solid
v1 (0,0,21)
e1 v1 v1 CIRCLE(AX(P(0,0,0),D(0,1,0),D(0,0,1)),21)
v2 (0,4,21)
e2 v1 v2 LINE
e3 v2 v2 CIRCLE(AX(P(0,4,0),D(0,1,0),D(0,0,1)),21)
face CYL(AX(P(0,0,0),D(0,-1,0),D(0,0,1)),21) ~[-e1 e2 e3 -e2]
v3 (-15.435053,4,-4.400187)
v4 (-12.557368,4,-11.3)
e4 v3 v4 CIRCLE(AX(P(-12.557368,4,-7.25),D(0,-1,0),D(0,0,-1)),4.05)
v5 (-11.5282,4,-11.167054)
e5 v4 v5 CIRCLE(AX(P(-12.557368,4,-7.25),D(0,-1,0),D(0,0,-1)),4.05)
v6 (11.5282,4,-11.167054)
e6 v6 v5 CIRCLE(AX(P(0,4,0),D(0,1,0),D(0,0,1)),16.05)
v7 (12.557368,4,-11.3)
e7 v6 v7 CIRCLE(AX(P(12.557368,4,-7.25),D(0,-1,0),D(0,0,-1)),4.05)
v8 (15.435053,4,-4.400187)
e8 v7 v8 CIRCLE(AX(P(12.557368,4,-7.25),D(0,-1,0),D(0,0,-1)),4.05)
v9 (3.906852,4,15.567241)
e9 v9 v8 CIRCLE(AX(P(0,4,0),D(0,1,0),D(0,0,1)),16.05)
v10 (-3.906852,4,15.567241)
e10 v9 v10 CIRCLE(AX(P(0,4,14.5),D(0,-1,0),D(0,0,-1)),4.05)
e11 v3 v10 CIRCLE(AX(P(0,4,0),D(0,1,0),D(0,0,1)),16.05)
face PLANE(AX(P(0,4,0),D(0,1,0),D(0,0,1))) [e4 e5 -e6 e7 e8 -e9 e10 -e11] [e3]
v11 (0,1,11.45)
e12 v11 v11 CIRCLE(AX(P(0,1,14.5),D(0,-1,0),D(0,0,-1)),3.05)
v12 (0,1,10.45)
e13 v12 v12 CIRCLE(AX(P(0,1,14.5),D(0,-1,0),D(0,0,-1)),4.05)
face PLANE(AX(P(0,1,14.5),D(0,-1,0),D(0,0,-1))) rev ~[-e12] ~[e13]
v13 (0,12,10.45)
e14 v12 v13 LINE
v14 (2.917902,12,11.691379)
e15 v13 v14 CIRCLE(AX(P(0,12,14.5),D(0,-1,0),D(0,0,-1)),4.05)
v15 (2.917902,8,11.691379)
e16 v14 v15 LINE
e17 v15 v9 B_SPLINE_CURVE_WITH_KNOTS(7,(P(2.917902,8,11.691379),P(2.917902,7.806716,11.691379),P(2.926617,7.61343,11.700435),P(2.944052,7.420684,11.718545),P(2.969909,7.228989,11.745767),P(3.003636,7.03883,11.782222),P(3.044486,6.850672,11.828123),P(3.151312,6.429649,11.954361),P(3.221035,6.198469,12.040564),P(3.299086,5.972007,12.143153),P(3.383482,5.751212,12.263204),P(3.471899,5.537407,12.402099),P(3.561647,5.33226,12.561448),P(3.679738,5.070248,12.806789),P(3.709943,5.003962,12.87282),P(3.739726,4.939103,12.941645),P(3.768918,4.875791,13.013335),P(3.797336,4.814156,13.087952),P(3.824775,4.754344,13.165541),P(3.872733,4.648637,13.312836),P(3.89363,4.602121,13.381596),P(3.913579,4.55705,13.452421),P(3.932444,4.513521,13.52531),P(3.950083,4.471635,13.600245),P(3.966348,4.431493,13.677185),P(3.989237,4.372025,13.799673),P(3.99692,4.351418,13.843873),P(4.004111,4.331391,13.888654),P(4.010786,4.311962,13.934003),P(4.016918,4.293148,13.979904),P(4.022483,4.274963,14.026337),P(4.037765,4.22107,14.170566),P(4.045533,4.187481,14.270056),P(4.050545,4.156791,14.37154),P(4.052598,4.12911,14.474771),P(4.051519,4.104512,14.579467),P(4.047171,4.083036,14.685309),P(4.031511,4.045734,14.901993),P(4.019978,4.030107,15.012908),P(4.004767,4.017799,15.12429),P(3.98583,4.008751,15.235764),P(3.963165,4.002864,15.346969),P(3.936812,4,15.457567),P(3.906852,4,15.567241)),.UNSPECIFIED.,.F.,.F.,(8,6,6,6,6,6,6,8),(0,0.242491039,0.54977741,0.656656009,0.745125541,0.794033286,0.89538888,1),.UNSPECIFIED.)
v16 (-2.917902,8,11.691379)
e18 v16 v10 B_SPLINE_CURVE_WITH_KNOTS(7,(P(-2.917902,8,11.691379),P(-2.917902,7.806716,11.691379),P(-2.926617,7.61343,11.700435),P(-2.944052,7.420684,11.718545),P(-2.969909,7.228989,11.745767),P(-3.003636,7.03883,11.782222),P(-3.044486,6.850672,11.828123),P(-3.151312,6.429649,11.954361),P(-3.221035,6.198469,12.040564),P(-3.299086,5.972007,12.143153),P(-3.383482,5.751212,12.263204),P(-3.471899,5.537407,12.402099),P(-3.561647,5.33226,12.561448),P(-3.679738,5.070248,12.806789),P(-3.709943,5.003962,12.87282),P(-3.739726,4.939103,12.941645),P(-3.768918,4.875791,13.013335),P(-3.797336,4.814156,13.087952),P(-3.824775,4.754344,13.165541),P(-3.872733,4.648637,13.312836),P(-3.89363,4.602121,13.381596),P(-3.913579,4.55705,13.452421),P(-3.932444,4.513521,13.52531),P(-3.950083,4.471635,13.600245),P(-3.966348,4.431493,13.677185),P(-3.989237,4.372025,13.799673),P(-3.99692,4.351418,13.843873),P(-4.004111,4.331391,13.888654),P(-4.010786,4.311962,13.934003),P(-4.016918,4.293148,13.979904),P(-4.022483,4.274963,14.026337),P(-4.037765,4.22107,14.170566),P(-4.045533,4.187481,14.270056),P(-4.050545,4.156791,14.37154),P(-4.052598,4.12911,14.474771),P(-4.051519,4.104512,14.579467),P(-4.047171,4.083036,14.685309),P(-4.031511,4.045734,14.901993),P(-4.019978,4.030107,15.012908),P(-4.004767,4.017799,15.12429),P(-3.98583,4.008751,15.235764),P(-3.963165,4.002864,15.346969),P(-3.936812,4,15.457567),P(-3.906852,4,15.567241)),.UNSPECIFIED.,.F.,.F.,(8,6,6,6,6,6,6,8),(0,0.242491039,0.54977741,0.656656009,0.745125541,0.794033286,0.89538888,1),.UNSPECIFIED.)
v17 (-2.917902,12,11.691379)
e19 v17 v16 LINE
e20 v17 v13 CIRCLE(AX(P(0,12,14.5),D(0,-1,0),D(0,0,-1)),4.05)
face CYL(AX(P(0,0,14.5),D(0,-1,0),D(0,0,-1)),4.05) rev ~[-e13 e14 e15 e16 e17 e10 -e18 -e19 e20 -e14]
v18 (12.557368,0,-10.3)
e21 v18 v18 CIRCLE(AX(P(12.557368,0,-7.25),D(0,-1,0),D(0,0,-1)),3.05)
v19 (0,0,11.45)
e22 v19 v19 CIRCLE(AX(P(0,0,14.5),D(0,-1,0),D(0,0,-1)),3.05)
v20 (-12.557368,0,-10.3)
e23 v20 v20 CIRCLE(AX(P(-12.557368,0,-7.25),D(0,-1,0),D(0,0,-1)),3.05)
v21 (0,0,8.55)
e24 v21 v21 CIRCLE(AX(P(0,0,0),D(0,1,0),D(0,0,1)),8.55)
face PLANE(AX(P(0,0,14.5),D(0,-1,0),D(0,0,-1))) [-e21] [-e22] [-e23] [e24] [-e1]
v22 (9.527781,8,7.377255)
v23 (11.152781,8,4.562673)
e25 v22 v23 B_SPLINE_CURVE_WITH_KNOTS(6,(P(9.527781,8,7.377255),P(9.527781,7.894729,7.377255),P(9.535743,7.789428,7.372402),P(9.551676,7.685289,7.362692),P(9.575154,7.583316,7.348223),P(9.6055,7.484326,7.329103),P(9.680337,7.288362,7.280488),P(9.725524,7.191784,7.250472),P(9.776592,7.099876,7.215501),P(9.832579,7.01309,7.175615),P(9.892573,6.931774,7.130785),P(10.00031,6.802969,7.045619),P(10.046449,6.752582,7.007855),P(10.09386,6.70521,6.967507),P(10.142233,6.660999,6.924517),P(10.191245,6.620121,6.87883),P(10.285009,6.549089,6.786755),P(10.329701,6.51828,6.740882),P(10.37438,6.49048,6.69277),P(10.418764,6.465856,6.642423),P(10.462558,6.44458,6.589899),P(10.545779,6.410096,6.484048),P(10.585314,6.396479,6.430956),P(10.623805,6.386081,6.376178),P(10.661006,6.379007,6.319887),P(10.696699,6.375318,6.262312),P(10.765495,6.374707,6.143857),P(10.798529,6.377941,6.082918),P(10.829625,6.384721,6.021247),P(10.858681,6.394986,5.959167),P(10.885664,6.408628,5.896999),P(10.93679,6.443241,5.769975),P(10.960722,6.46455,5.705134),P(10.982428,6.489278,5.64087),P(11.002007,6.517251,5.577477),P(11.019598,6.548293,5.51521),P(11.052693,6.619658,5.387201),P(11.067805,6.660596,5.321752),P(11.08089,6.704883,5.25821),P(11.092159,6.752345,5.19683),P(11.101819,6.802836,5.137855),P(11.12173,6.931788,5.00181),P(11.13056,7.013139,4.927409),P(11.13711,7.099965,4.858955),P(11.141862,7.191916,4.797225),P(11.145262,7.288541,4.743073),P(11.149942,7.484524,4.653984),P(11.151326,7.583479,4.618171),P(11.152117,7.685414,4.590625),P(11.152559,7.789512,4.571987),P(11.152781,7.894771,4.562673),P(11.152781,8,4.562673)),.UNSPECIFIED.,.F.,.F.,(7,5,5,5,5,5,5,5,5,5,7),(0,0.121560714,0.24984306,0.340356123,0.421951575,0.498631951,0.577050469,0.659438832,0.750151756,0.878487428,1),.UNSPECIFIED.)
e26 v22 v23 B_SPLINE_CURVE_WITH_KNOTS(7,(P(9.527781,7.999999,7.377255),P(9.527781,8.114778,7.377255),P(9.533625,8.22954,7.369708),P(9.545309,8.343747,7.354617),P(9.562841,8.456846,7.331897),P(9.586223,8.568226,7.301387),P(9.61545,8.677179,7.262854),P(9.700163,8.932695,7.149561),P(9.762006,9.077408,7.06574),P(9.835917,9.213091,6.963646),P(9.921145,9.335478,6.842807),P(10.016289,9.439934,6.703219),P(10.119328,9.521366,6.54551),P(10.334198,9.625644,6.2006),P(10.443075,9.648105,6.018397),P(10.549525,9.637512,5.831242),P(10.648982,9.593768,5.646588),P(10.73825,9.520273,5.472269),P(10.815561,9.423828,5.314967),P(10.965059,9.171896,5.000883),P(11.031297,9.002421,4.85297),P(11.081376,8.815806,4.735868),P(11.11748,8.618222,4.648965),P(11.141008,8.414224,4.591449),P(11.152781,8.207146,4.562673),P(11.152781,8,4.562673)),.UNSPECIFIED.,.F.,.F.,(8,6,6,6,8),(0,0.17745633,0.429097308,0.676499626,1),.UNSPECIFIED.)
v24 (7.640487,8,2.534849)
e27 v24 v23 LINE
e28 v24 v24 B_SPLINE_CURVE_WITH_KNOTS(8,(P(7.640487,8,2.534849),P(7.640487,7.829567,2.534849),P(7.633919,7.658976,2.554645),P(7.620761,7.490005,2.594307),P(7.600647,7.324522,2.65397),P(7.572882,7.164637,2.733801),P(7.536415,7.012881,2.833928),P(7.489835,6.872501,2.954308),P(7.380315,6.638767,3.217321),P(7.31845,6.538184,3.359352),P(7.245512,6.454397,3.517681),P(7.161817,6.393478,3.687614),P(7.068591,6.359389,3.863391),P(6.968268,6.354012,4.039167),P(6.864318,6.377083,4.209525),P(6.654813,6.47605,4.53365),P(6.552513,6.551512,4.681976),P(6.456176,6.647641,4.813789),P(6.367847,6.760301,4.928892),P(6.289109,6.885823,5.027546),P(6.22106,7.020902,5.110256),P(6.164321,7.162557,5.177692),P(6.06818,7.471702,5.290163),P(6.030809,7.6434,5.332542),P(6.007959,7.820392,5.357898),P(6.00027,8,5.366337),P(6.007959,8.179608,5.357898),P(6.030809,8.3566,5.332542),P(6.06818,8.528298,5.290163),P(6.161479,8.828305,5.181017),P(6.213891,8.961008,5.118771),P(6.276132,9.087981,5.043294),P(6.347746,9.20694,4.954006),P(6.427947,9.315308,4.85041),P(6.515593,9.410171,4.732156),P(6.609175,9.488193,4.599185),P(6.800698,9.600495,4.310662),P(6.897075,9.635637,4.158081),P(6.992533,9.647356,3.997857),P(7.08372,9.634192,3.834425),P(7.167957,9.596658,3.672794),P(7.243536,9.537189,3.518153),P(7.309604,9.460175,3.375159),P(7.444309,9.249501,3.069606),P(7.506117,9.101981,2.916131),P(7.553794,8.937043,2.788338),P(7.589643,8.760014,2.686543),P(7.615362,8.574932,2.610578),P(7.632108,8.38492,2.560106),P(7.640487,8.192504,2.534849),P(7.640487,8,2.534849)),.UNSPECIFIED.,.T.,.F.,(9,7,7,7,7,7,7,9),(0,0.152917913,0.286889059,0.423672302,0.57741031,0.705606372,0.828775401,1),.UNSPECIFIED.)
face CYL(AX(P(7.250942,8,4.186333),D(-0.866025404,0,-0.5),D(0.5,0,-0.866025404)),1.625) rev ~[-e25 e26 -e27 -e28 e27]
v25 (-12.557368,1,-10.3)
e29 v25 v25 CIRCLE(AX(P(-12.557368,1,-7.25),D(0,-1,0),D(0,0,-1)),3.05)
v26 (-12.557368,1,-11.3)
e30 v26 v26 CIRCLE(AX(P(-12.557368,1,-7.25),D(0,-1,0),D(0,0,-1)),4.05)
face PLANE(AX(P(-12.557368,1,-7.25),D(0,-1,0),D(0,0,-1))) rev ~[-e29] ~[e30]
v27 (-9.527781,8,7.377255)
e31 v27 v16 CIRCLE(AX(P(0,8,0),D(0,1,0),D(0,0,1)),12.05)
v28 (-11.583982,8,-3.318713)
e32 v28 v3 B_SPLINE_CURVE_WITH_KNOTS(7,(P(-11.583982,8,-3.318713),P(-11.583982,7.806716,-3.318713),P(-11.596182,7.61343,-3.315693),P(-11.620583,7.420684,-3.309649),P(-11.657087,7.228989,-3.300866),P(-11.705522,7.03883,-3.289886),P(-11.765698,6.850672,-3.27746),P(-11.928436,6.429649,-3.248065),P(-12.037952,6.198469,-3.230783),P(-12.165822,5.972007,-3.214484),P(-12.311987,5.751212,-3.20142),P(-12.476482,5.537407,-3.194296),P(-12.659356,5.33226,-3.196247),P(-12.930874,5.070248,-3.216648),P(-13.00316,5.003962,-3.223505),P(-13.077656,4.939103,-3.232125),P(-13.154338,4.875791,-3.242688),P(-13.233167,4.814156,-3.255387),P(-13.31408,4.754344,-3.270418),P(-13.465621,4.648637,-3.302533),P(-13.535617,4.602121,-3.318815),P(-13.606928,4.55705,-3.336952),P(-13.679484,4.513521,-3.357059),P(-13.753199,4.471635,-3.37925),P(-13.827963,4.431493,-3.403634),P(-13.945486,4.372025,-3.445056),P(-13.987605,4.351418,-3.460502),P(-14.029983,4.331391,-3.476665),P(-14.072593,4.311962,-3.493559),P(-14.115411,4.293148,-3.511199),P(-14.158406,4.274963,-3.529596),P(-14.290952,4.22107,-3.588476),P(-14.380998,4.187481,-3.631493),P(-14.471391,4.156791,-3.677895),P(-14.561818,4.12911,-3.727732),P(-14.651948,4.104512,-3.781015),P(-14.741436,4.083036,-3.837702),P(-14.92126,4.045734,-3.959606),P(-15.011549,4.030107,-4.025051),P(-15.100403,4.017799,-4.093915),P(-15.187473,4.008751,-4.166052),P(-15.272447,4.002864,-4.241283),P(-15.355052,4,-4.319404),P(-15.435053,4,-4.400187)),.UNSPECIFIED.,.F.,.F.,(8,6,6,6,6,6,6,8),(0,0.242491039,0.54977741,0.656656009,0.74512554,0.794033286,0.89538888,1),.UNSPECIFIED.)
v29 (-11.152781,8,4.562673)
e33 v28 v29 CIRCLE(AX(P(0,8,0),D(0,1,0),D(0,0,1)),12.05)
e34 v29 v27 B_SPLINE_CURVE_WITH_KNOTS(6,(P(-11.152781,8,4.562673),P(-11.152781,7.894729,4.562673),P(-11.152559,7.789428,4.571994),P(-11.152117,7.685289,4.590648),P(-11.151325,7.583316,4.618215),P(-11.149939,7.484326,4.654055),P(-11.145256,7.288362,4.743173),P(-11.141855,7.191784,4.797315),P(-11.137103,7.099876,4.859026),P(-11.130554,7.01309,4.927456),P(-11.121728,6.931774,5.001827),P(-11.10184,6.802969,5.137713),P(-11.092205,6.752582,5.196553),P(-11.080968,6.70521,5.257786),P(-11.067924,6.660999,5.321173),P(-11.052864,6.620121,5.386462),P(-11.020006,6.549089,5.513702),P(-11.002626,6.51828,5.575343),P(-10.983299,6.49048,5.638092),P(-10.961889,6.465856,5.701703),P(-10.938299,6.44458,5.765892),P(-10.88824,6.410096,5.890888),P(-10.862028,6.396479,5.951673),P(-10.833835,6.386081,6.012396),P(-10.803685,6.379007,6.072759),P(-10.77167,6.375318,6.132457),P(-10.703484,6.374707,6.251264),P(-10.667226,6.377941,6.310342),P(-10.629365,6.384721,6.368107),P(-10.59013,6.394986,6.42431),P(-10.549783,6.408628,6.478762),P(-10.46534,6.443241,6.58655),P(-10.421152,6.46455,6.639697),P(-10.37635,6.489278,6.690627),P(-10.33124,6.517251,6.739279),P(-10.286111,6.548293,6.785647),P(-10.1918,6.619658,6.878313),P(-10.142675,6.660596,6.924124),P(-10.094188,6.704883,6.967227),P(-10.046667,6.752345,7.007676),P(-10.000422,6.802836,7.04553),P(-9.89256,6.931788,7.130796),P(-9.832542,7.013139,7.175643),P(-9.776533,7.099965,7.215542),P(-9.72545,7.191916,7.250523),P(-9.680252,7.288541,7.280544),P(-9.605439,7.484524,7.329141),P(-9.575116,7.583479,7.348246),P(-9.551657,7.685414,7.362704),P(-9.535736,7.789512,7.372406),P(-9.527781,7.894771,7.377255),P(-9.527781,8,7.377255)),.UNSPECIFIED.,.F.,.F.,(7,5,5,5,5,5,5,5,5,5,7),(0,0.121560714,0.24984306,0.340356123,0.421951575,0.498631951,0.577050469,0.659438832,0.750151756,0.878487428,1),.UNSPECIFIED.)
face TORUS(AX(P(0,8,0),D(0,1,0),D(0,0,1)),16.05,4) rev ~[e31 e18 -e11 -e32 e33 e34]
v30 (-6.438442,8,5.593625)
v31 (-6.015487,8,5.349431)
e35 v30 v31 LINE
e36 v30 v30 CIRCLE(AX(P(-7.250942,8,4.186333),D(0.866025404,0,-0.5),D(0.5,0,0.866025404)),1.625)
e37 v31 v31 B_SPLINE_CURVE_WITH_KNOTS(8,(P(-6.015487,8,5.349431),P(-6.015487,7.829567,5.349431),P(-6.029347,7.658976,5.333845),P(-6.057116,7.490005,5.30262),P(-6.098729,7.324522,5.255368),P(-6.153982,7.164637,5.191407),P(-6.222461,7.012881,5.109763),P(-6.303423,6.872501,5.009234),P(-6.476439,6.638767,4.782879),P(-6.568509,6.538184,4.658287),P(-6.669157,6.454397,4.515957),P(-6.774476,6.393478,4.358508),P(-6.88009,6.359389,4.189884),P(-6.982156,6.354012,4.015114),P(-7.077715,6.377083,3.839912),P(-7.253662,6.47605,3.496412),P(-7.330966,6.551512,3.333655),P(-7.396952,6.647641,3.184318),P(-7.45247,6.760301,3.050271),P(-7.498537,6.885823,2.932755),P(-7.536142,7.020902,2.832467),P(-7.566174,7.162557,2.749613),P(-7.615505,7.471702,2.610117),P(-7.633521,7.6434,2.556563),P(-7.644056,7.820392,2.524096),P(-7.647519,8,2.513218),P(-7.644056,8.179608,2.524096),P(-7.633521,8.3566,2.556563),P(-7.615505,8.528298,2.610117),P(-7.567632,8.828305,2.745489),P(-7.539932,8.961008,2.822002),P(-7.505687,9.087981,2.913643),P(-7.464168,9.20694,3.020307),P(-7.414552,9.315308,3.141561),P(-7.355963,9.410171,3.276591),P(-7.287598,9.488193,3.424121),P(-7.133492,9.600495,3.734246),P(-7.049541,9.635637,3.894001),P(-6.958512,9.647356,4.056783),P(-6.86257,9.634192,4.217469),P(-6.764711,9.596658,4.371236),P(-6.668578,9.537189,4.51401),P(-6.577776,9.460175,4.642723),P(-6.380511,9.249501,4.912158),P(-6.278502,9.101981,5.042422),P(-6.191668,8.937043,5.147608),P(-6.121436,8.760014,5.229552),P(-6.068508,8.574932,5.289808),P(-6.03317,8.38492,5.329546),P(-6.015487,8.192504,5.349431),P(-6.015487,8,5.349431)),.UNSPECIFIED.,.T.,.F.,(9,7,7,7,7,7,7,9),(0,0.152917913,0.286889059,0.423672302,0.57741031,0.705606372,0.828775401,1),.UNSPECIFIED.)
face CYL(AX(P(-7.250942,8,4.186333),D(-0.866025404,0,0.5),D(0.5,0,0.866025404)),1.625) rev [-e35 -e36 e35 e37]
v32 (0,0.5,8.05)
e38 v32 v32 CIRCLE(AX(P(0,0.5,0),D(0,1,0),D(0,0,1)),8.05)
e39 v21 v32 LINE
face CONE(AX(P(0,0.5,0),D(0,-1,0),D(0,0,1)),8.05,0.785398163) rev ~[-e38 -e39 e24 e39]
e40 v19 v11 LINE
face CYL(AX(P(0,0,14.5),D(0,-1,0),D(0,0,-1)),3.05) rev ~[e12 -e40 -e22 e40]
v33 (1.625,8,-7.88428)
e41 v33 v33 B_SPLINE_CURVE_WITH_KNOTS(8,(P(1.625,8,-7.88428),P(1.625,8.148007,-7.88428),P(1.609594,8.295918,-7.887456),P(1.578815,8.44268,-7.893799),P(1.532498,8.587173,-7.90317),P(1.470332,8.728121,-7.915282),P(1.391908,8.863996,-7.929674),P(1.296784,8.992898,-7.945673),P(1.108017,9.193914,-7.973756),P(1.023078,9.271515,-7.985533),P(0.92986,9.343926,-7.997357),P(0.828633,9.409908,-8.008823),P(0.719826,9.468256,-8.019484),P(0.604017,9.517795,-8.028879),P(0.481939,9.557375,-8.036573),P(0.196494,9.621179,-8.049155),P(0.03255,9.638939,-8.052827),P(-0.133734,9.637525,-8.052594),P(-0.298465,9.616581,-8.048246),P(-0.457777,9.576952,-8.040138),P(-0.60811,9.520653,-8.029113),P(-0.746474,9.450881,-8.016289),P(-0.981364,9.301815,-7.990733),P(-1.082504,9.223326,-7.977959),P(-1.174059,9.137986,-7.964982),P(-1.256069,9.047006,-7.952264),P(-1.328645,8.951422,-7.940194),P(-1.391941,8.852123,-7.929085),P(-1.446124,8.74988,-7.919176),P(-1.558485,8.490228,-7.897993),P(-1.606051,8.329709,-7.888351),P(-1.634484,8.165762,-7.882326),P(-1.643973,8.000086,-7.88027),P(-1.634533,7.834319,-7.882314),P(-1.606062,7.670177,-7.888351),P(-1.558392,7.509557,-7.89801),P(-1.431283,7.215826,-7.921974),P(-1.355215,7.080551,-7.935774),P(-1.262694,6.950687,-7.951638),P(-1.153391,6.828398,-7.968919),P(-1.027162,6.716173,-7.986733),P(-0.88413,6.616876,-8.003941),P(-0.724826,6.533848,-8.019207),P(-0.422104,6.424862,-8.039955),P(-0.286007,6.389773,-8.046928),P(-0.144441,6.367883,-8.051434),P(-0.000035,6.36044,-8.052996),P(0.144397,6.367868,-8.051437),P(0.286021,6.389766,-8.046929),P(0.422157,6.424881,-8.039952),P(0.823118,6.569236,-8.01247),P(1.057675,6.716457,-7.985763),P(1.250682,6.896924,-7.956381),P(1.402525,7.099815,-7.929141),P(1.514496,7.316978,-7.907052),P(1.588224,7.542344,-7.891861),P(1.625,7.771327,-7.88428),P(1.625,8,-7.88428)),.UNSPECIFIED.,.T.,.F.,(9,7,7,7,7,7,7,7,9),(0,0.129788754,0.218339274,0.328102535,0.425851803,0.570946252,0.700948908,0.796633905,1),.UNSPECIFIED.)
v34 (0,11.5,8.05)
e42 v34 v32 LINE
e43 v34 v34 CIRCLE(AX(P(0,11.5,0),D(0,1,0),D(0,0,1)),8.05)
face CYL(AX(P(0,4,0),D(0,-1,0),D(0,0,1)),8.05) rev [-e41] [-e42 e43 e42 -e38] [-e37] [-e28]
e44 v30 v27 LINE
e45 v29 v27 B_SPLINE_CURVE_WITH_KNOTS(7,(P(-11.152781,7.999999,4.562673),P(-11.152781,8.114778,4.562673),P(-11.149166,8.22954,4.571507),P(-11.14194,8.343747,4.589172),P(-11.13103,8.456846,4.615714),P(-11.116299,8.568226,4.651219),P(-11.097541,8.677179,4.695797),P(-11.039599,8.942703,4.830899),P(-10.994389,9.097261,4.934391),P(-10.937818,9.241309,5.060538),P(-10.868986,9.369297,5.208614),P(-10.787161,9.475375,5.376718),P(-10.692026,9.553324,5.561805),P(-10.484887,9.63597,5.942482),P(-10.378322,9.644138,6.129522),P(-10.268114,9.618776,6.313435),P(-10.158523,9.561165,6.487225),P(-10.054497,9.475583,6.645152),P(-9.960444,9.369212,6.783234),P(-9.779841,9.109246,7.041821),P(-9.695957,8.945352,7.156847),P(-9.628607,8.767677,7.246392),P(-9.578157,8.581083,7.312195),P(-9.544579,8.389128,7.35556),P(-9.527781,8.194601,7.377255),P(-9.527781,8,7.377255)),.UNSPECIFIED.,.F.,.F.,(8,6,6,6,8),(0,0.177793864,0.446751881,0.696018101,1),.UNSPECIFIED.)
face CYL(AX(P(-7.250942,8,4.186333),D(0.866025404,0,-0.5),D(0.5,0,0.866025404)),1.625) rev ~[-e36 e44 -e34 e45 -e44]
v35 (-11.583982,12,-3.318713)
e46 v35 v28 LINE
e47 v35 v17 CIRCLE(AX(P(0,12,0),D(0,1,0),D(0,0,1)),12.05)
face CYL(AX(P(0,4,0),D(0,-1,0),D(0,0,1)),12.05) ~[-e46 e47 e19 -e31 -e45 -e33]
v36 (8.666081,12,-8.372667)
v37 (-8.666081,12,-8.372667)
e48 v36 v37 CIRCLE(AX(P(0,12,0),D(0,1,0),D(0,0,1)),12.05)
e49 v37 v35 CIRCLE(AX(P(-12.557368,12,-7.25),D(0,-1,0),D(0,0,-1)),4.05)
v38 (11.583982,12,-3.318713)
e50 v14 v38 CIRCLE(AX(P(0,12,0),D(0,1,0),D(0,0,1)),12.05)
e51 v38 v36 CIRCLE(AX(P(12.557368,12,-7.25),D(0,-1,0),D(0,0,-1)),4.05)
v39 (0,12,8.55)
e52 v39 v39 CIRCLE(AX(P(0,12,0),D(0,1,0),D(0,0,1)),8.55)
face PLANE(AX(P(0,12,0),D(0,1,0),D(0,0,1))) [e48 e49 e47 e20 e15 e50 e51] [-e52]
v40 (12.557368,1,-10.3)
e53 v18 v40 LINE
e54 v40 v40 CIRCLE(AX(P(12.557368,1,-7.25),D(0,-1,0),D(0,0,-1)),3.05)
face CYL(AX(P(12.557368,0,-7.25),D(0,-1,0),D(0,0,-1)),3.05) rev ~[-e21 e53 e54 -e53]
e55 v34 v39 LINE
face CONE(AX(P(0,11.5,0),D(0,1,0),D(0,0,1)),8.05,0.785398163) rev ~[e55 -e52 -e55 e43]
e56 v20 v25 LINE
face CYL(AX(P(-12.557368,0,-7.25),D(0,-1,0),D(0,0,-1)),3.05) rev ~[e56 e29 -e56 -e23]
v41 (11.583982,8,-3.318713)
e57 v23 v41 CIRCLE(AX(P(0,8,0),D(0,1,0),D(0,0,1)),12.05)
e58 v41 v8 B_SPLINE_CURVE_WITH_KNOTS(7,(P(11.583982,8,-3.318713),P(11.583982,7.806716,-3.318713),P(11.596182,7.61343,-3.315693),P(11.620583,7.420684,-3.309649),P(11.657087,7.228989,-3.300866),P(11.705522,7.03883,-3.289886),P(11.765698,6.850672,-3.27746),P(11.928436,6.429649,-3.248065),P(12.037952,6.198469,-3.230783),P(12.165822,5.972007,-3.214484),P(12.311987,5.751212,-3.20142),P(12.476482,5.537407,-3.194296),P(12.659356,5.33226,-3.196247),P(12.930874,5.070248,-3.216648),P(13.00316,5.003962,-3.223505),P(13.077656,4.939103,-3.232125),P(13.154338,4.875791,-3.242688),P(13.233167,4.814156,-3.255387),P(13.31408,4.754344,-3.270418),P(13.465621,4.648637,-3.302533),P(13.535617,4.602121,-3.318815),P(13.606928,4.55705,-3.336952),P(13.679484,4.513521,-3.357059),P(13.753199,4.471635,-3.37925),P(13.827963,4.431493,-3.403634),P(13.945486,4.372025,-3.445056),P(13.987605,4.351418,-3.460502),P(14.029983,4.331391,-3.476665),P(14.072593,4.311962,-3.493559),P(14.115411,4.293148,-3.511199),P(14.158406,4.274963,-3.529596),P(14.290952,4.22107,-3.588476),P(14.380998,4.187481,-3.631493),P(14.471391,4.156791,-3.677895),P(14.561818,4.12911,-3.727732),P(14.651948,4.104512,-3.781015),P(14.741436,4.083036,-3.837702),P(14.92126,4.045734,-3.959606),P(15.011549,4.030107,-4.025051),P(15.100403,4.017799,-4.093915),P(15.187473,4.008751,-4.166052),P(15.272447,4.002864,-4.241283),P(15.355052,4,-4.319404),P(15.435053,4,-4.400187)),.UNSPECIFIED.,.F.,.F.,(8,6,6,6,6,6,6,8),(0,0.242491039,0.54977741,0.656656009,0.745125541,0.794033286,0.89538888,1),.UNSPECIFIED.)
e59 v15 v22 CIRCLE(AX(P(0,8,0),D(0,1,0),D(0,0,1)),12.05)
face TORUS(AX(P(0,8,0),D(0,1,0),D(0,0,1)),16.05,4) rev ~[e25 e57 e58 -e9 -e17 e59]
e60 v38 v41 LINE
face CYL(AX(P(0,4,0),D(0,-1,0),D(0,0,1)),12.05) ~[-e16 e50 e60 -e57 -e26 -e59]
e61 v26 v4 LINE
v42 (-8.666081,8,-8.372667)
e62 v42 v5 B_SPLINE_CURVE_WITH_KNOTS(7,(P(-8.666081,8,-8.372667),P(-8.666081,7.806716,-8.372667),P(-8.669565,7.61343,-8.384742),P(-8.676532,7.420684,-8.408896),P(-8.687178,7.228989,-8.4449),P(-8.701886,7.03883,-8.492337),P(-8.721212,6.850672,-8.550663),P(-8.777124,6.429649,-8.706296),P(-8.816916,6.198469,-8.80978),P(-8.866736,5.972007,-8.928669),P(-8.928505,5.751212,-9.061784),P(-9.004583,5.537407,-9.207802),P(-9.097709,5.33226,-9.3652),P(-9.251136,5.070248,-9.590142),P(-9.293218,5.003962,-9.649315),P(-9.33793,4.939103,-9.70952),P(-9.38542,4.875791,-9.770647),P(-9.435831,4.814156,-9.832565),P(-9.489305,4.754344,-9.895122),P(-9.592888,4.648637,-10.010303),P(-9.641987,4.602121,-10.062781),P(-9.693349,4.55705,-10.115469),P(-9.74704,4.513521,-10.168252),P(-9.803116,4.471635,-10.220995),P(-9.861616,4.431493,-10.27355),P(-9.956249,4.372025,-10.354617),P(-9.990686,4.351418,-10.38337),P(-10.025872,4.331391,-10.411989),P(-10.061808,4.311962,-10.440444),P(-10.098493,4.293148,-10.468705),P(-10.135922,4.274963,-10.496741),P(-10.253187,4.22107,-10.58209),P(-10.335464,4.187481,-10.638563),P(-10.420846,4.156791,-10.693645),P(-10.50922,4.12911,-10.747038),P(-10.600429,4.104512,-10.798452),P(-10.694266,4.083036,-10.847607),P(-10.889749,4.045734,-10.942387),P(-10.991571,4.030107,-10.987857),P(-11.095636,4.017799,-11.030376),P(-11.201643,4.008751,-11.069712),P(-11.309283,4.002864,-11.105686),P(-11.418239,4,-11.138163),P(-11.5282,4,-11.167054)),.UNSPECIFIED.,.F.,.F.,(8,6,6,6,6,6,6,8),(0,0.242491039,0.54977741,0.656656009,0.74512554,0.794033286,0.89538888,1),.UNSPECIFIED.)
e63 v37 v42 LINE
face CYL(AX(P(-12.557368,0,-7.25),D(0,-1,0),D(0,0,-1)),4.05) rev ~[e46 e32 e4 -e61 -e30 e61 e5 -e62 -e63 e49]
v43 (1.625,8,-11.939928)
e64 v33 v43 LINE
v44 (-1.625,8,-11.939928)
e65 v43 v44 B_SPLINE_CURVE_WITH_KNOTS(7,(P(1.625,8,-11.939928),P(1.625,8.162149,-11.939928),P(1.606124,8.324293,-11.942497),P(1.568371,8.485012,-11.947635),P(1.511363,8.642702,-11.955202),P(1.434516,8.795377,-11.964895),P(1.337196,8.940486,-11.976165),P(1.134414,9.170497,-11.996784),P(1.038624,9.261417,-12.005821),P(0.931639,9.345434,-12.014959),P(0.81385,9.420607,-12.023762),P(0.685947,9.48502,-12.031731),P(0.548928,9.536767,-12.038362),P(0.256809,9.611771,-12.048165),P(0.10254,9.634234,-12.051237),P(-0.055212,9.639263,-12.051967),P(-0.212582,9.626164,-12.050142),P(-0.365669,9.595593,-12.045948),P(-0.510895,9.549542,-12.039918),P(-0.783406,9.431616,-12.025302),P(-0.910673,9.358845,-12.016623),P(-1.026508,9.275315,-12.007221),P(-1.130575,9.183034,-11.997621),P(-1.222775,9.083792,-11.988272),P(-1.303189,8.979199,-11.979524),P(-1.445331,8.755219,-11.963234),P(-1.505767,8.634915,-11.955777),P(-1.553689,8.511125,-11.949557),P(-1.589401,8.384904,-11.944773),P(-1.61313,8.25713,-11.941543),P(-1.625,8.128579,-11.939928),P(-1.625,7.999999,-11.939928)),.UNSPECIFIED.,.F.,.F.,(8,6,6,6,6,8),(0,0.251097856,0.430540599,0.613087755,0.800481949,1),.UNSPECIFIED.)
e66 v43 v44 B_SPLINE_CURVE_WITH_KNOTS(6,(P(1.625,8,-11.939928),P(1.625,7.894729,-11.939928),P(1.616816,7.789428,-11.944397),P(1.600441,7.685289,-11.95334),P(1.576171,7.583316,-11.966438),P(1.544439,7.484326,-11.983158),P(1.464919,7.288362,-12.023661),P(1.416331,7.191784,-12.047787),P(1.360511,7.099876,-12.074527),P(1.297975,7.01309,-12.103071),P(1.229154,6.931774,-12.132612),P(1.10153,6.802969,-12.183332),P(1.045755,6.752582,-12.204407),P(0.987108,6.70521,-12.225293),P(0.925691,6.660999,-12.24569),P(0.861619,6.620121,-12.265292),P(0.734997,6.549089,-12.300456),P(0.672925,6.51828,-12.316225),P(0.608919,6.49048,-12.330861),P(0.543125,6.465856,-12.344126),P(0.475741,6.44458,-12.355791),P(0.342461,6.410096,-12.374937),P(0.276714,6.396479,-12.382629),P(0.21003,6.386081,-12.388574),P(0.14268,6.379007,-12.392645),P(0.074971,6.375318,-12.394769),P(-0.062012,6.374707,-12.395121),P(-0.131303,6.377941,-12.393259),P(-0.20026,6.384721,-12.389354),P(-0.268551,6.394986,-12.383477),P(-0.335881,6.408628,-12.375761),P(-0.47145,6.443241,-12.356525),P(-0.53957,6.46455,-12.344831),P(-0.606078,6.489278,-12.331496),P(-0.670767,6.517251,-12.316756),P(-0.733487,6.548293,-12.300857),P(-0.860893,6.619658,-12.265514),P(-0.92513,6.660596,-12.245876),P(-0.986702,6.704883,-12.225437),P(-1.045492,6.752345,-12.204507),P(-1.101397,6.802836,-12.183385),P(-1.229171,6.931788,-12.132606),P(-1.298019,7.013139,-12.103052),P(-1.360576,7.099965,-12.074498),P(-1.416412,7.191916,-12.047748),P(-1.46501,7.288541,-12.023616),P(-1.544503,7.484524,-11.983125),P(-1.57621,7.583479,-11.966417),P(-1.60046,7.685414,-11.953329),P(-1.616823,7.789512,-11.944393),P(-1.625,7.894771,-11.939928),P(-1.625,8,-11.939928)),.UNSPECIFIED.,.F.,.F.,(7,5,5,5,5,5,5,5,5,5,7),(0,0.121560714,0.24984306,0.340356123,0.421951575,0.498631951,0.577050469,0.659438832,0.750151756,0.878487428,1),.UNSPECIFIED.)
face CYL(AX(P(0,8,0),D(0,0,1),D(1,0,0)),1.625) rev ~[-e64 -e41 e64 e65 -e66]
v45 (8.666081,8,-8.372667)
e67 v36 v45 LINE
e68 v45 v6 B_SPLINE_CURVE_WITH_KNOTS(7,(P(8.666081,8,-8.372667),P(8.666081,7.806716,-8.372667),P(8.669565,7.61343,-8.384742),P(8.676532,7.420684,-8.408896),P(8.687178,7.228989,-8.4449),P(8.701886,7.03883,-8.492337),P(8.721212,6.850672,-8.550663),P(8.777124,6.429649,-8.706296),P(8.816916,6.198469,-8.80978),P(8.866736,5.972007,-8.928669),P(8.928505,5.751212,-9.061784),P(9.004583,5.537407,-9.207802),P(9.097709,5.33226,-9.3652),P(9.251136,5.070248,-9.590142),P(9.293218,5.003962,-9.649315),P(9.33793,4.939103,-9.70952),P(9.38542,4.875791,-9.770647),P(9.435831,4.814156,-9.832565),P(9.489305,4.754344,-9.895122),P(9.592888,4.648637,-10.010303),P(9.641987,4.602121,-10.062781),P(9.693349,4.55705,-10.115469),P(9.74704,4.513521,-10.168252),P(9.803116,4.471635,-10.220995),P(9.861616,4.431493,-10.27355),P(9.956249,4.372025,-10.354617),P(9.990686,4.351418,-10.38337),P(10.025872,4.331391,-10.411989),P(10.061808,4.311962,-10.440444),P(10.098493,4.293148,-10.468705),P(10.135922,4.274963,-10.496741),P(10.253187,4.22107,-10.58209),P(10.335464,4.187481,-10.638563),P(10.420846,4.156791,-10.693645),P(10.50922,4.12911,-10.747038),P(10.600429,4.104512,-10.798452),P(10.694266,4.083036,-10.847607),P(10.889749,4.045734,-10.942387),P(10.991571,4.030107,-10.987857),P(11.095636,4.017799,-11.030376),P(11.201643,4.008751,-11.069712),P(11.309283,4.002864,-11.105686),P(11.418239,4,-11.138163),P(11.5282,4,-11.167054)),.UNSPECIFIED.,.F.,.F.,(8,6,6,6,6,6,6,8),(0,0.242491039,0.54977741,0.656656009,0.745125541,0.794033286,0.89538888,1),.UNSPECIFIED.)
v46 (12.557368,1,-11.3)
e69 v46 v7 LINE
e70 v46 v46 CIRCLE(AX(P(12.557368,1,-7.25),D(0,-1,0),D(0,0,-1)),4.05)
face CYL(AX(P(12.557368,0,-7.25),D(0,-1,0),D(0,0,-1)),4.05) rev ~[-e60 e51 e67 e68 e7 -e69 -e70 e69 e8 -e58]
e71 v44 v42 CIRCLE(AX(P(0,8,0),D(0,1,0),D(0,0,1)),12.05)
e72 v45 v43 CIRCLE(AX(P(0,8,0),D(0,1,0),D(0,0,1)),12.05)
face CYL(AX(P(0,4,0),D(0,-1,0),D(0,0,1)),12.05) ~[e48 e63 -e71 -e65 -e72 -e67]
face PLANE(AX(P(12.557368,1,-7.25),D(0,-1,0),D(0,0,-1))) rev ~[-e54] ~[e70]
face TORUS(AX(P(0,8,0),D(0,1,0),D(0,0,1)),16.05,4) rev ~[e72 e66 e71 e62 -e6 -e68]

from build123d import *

# Parameters (mm, degrees)
CROQUIS2_R                        = 21
CROQUIS2_R_2                      = 8.05
SALIENTE_EXTRUIR1_DEPTH           = 4
CROQUIS3_R                        = 12.05
CROQUIS3_R_2                      = 8.05
SALIENTE_EXTRUIR2_DEPTH           = 8
REDONDEO1_R                       = 4
CORTAR_EXTRUIR2_REACH             = 34.031
CROQUIS5_R                        = 4.05
CROQUIS4_R                        = 1.625
CORTAR_EXTRUIR3_DEPTH             = 33.031234794
CORTAR_EXTRUIR4_REACH             = 41.705
CROQUIS6_R                        = 1.625
CORTAR_EXTRUIR4_DIRECTION_2_REACH = 41.705
CROQUIS7_R                        = 4.05
CROQUIS7_R_2                      = 3.05
SALIENTE_EXTRUIR3_DEPTH           = 1
CHAFL_N1_SIZE                     = 0.5
CORTAR_EXTRUIR5_REACH             = 41.705
CROQUIS8_R                        = 1.625
CORTAR_EXTRUIR5_DIRECTION_2_REACH = 41.705


with BuildPart() as part:
    # Croquis2 → Saliente-Extruir1 (new body)
    with BuildSketch(Plane(origin=(0, 0, 0), x_dir=(1, 0, 0), z_dir=(0, 1, 0))):
        with Locations(Location((0, 0, 0), (0, 0, 270))):
            Circle(CROQUIS2_R)
        with Locations(Location((0, 0, 0), (0, 0, 270))):
            Circle(CROQUIS2_R_2, mode=Mode.SUBTRACT)
    extrude(amount=SALIENTE_EXTRUIR1_DEPTH)

    # Croquis3 → Saliente-Extruir2 (add)
    with BuildSketch(Plane(origin=(0, 4, 0), x_dir=(1, 0, 0), z_dir=(0, 1, 0))):
        with Locations(Location((0, 0, 0), (0, 0, 270))):
            Circle(CROQUIS3_R)
        with Locations(Location((0, 0, 0), (0, 0, 270))):
            Circle(CROQUIS3_R_2, mode=Mode.SUBTRACT)
    extrude(amount=SALIENTE_EXTRUIR2_DEPTH)

    # Redondeo1
    redondeo1_edges = [part.edges().sort_by_distance(p)[0] for p in [
        (0, 4, -12.05),
    ]]
    fillet(redondeo1_edges, radius=REDONDEO1_R)

    # Croquis5 → Cortar-Extruir2 (cut, up to next)
    with BuildSketch(Plane.XZ, mode=Mode.PRIVATE) as cortar_extruir2_sk1:
        with Locations(Location((0, 14.5, 0), (0, 0, 270))):
            Circle(CROQUIS5_R)
    cortar_extruir2_tool1 = extrude(cortar_extruir2_sk1.sketch, amount=-CORTAR_EXTRUIR2_REACH, mode=Mode.PRIVATE) & part.part
    # Croquis5 → Cortar-Extruir2 (cut, up to next)
    with BuildSketch(Plane.XZ, mode=Mode.PRIVATE) as cortar_extruir2_sk2:
        with Locations(Location((12.557368355, -7.25, 0), (0, 0, 270))):
            Circle(CROQUIS5_R)
    cortar_extruir2_tool2 = extrude(cortar_extruir2_sk2.sketch, amount=-CORTAR_EXTRUIR2_REACH, mode=Mode.PRIVATE) & part.part
    # Croquis5 → Cortar-Extruir2 (cut, up to next)
    with BuildSketch(Plane.XZ, mode=Mode.PRIVATE) as cortar_extruir2_sk3:
        with Locations(Location((-12.557368355, -7.25, 0), (0, 0, 270))):
            Circle(CROQUIS5_R)
    cortar_extruir2_tool3 = extrude(cortar_extruir2_sk3.sketch, amount=-CORTAR_EXTRUIR2_REACH, mode=Mode.PRIVATE) & part.part
    add(cortar_extruir2_tool1.solids().sort_by_distance((0, 0, 14.5))[0], mode=Mode.SUBTRACT)
    add(cortar_extruir2_tool2.solids().sort_by_distance((12.557368, 0, -7.25))[0], mode=Mode.SUBTRACT)
    add(cortar_extruir2_tool3.solids().sort_by_distance((-12.557368, 0, -7.25))[0], mode=Mode.SUBTRACT)

    # Croquis4 → Cortar-Extruir3 (cut, through all)
    with BuildSketch(Plane.XY):
        with Locations((0, 8)):
            Circle(CROQUIS4_R)
    extrude(amount=-CORTAR_EXTRUIR3_DEPTH, mode=Mode.SUBTRACT)

    # Croquis6 → Cortar-Extruir4 (cut, up to next)
    with BuildSketch(Plane(origin=(7.250941954, 0, 4.186333289), x_dir=(-0.5000000000000033, 0, 0.8660254037844367), z_dir=(-0.8660254037844367, 0, -0.5000000000000033)), mode=Mode.PRIVATE) as cortar_extruir4_sk1:
        with Locations(Location((0, 8, 0), (0, 0, 180))):
            Circle(CROQUIS6_R)
    cortar_extruir4_tool1 = extrude(cortar_extruir4_sk1.sketch, amount=-CORTAR_EXTRUIR4_REACH, mode=Mode.PRIVATE) & part.part
    add(cortar_extruir4_tool1.solids().sort_by_distance((7.250942, 8, 4.186333))[0], mode=Mode.SUBTRACT)

    # Croquis6 → Cortar-Extruir4 direction 2 (cut, up to next)
    with BuildSketch(Plane(origin=(7.250941954, 0, 4.186333289), x_dir=(-0.5000000000000033, 0, 0.8660254037844367), z_dir=(-0.8660254037844367, 0, -0.5000000000000033)), mode=Mode.PRIVATE) as cortar_extruir4_direction_2_sk1:
        with Locations(Location((0, 8, 0), (0, 0, 180))):
            Circle(CROQUIS6_R)
    cortar_extruir4_direction_2_tool1 = extrude(cortar_extruir4_direction_2_sk1.sketch, amount=CORTAR_EXTRUIR4_DIRECTION_2_REACH, mode=Mode.PRIVATE) & part.part
    add(cortar_extruir4_direction_2_tool1.solids().sort_by_distance((7.250942, 8, 4.186333))[0], mode=Mode.SUBTRACT)

    # Croquis7 → Saliente-Extruir3 (add)
    # profile 1 of 3: a face of its own
    with BuildSketch(Plane.XZ):
        with Locations(Location((0, 14.5, 0), (0, 0, 270))):
            Circle(CROQUIS7_R)
        with Locations(Location((0, 14.5, 0), (0, 0, 270))):
            Circle(CROQUIS7_R_2, mode=Mode.SUBTRACT)
    # profile 2 of 3: a face of its own
    with BuildSketch(Plane.XZ):
        with Locations(Location((12.557368355, -7.25, 0), (0, 0, 270))):
            Circle(CROQUIS7_R)
        with Locations(Location((12.557368355, -7.25, 0), (0, 0, 270))):
            Circle(CROQUIS7_R_2, mode=Mode.SUBTRACT)
    # profile 3 of 3: a face of its own
    with BuildSketch(Plane.XZ):
        with Locations(Location((-12.557368355, -7.25, 0), (0, 0, 270))):
            Circle(CROQUIS7_R)
        with Locations(Location((-12.557368355, -7.25, 0), (0, 0, 270))):
            Circle(CROQUIS7_R_2, mode=Mode.SUBTRACT)
    extrude(amount=-SALIENTE_EXTRUIR3_DEPTH)

    # Chaflán1
    chafl_n1_edges = [part.edges().sort_by_distance(p)[0] for p in [
        (0, 12, -8.05),
        (0, 0, -8.05),
    ]]
    chamfer(chafl_n1_edges, length=CHAFL_N1_SIZE)

    # Croquis8 → Cortar-Extruir5 (cut, up to next)
    with BuildSketch(Plane(origin=(-7.250941954, 0, 4.186333289), x_dir=(-0.5000000000000002, 0, -0.8660254037844386), z_dir=(0.8660254037844386, 0, -0.5000000000000002)), mode=Mode.PRIVATE) as cortar_extruir5_sk1:
        with Locations(Location((0, 8, 0), (0, 0, 180))):
            Circle(CROQUIS8_R)
    cortar_extruir5_tool1 = extrude(cortar_extruir5_sk1.sketch, amount=-CORTAR_EXTRUIR5_REACH, mode=Mode.PRIVATE) & part.part
    add(cortar_extruir5_tool1.solids().sort_by_distance((-7.250942, 8, 4.186333))[0], mode=Mode.SUBTRACT)

    # Croquis8 → Cortar-Extruir5 direction 2 (cut, up to next)
    with BuildSketch(Plane(origin=(-7.250941954, 0, 4.186333289), x_dir=(-0.5000000000000002, 0, -0.8660254037844386), z_dir=(0.8660254037844386, 0, -0.5000000000000002)), mode=Mode.PRIVATE) as cortar_extruir5_direction_2_sk1:
        with Locations(Location((0, 8, 0), (0, 0, 180))):
            Circle(CROQUIS8_R)
    cortar_extruir5_direction_2_tool1 = extrude(cortar_extruir5_direction_2_sk1.sketch, amount=CORTAR_EXTRUIR5_DIRECTION_2_REACH, mode=Mode.PRIVATE) & part.part
    add(cortar_extruir5_direction_2_tool1.solids().sort_by_distance((-7.250942, 8, 4.186333))[0], mode=Mode.SUBTRACT)


solid = part.part
